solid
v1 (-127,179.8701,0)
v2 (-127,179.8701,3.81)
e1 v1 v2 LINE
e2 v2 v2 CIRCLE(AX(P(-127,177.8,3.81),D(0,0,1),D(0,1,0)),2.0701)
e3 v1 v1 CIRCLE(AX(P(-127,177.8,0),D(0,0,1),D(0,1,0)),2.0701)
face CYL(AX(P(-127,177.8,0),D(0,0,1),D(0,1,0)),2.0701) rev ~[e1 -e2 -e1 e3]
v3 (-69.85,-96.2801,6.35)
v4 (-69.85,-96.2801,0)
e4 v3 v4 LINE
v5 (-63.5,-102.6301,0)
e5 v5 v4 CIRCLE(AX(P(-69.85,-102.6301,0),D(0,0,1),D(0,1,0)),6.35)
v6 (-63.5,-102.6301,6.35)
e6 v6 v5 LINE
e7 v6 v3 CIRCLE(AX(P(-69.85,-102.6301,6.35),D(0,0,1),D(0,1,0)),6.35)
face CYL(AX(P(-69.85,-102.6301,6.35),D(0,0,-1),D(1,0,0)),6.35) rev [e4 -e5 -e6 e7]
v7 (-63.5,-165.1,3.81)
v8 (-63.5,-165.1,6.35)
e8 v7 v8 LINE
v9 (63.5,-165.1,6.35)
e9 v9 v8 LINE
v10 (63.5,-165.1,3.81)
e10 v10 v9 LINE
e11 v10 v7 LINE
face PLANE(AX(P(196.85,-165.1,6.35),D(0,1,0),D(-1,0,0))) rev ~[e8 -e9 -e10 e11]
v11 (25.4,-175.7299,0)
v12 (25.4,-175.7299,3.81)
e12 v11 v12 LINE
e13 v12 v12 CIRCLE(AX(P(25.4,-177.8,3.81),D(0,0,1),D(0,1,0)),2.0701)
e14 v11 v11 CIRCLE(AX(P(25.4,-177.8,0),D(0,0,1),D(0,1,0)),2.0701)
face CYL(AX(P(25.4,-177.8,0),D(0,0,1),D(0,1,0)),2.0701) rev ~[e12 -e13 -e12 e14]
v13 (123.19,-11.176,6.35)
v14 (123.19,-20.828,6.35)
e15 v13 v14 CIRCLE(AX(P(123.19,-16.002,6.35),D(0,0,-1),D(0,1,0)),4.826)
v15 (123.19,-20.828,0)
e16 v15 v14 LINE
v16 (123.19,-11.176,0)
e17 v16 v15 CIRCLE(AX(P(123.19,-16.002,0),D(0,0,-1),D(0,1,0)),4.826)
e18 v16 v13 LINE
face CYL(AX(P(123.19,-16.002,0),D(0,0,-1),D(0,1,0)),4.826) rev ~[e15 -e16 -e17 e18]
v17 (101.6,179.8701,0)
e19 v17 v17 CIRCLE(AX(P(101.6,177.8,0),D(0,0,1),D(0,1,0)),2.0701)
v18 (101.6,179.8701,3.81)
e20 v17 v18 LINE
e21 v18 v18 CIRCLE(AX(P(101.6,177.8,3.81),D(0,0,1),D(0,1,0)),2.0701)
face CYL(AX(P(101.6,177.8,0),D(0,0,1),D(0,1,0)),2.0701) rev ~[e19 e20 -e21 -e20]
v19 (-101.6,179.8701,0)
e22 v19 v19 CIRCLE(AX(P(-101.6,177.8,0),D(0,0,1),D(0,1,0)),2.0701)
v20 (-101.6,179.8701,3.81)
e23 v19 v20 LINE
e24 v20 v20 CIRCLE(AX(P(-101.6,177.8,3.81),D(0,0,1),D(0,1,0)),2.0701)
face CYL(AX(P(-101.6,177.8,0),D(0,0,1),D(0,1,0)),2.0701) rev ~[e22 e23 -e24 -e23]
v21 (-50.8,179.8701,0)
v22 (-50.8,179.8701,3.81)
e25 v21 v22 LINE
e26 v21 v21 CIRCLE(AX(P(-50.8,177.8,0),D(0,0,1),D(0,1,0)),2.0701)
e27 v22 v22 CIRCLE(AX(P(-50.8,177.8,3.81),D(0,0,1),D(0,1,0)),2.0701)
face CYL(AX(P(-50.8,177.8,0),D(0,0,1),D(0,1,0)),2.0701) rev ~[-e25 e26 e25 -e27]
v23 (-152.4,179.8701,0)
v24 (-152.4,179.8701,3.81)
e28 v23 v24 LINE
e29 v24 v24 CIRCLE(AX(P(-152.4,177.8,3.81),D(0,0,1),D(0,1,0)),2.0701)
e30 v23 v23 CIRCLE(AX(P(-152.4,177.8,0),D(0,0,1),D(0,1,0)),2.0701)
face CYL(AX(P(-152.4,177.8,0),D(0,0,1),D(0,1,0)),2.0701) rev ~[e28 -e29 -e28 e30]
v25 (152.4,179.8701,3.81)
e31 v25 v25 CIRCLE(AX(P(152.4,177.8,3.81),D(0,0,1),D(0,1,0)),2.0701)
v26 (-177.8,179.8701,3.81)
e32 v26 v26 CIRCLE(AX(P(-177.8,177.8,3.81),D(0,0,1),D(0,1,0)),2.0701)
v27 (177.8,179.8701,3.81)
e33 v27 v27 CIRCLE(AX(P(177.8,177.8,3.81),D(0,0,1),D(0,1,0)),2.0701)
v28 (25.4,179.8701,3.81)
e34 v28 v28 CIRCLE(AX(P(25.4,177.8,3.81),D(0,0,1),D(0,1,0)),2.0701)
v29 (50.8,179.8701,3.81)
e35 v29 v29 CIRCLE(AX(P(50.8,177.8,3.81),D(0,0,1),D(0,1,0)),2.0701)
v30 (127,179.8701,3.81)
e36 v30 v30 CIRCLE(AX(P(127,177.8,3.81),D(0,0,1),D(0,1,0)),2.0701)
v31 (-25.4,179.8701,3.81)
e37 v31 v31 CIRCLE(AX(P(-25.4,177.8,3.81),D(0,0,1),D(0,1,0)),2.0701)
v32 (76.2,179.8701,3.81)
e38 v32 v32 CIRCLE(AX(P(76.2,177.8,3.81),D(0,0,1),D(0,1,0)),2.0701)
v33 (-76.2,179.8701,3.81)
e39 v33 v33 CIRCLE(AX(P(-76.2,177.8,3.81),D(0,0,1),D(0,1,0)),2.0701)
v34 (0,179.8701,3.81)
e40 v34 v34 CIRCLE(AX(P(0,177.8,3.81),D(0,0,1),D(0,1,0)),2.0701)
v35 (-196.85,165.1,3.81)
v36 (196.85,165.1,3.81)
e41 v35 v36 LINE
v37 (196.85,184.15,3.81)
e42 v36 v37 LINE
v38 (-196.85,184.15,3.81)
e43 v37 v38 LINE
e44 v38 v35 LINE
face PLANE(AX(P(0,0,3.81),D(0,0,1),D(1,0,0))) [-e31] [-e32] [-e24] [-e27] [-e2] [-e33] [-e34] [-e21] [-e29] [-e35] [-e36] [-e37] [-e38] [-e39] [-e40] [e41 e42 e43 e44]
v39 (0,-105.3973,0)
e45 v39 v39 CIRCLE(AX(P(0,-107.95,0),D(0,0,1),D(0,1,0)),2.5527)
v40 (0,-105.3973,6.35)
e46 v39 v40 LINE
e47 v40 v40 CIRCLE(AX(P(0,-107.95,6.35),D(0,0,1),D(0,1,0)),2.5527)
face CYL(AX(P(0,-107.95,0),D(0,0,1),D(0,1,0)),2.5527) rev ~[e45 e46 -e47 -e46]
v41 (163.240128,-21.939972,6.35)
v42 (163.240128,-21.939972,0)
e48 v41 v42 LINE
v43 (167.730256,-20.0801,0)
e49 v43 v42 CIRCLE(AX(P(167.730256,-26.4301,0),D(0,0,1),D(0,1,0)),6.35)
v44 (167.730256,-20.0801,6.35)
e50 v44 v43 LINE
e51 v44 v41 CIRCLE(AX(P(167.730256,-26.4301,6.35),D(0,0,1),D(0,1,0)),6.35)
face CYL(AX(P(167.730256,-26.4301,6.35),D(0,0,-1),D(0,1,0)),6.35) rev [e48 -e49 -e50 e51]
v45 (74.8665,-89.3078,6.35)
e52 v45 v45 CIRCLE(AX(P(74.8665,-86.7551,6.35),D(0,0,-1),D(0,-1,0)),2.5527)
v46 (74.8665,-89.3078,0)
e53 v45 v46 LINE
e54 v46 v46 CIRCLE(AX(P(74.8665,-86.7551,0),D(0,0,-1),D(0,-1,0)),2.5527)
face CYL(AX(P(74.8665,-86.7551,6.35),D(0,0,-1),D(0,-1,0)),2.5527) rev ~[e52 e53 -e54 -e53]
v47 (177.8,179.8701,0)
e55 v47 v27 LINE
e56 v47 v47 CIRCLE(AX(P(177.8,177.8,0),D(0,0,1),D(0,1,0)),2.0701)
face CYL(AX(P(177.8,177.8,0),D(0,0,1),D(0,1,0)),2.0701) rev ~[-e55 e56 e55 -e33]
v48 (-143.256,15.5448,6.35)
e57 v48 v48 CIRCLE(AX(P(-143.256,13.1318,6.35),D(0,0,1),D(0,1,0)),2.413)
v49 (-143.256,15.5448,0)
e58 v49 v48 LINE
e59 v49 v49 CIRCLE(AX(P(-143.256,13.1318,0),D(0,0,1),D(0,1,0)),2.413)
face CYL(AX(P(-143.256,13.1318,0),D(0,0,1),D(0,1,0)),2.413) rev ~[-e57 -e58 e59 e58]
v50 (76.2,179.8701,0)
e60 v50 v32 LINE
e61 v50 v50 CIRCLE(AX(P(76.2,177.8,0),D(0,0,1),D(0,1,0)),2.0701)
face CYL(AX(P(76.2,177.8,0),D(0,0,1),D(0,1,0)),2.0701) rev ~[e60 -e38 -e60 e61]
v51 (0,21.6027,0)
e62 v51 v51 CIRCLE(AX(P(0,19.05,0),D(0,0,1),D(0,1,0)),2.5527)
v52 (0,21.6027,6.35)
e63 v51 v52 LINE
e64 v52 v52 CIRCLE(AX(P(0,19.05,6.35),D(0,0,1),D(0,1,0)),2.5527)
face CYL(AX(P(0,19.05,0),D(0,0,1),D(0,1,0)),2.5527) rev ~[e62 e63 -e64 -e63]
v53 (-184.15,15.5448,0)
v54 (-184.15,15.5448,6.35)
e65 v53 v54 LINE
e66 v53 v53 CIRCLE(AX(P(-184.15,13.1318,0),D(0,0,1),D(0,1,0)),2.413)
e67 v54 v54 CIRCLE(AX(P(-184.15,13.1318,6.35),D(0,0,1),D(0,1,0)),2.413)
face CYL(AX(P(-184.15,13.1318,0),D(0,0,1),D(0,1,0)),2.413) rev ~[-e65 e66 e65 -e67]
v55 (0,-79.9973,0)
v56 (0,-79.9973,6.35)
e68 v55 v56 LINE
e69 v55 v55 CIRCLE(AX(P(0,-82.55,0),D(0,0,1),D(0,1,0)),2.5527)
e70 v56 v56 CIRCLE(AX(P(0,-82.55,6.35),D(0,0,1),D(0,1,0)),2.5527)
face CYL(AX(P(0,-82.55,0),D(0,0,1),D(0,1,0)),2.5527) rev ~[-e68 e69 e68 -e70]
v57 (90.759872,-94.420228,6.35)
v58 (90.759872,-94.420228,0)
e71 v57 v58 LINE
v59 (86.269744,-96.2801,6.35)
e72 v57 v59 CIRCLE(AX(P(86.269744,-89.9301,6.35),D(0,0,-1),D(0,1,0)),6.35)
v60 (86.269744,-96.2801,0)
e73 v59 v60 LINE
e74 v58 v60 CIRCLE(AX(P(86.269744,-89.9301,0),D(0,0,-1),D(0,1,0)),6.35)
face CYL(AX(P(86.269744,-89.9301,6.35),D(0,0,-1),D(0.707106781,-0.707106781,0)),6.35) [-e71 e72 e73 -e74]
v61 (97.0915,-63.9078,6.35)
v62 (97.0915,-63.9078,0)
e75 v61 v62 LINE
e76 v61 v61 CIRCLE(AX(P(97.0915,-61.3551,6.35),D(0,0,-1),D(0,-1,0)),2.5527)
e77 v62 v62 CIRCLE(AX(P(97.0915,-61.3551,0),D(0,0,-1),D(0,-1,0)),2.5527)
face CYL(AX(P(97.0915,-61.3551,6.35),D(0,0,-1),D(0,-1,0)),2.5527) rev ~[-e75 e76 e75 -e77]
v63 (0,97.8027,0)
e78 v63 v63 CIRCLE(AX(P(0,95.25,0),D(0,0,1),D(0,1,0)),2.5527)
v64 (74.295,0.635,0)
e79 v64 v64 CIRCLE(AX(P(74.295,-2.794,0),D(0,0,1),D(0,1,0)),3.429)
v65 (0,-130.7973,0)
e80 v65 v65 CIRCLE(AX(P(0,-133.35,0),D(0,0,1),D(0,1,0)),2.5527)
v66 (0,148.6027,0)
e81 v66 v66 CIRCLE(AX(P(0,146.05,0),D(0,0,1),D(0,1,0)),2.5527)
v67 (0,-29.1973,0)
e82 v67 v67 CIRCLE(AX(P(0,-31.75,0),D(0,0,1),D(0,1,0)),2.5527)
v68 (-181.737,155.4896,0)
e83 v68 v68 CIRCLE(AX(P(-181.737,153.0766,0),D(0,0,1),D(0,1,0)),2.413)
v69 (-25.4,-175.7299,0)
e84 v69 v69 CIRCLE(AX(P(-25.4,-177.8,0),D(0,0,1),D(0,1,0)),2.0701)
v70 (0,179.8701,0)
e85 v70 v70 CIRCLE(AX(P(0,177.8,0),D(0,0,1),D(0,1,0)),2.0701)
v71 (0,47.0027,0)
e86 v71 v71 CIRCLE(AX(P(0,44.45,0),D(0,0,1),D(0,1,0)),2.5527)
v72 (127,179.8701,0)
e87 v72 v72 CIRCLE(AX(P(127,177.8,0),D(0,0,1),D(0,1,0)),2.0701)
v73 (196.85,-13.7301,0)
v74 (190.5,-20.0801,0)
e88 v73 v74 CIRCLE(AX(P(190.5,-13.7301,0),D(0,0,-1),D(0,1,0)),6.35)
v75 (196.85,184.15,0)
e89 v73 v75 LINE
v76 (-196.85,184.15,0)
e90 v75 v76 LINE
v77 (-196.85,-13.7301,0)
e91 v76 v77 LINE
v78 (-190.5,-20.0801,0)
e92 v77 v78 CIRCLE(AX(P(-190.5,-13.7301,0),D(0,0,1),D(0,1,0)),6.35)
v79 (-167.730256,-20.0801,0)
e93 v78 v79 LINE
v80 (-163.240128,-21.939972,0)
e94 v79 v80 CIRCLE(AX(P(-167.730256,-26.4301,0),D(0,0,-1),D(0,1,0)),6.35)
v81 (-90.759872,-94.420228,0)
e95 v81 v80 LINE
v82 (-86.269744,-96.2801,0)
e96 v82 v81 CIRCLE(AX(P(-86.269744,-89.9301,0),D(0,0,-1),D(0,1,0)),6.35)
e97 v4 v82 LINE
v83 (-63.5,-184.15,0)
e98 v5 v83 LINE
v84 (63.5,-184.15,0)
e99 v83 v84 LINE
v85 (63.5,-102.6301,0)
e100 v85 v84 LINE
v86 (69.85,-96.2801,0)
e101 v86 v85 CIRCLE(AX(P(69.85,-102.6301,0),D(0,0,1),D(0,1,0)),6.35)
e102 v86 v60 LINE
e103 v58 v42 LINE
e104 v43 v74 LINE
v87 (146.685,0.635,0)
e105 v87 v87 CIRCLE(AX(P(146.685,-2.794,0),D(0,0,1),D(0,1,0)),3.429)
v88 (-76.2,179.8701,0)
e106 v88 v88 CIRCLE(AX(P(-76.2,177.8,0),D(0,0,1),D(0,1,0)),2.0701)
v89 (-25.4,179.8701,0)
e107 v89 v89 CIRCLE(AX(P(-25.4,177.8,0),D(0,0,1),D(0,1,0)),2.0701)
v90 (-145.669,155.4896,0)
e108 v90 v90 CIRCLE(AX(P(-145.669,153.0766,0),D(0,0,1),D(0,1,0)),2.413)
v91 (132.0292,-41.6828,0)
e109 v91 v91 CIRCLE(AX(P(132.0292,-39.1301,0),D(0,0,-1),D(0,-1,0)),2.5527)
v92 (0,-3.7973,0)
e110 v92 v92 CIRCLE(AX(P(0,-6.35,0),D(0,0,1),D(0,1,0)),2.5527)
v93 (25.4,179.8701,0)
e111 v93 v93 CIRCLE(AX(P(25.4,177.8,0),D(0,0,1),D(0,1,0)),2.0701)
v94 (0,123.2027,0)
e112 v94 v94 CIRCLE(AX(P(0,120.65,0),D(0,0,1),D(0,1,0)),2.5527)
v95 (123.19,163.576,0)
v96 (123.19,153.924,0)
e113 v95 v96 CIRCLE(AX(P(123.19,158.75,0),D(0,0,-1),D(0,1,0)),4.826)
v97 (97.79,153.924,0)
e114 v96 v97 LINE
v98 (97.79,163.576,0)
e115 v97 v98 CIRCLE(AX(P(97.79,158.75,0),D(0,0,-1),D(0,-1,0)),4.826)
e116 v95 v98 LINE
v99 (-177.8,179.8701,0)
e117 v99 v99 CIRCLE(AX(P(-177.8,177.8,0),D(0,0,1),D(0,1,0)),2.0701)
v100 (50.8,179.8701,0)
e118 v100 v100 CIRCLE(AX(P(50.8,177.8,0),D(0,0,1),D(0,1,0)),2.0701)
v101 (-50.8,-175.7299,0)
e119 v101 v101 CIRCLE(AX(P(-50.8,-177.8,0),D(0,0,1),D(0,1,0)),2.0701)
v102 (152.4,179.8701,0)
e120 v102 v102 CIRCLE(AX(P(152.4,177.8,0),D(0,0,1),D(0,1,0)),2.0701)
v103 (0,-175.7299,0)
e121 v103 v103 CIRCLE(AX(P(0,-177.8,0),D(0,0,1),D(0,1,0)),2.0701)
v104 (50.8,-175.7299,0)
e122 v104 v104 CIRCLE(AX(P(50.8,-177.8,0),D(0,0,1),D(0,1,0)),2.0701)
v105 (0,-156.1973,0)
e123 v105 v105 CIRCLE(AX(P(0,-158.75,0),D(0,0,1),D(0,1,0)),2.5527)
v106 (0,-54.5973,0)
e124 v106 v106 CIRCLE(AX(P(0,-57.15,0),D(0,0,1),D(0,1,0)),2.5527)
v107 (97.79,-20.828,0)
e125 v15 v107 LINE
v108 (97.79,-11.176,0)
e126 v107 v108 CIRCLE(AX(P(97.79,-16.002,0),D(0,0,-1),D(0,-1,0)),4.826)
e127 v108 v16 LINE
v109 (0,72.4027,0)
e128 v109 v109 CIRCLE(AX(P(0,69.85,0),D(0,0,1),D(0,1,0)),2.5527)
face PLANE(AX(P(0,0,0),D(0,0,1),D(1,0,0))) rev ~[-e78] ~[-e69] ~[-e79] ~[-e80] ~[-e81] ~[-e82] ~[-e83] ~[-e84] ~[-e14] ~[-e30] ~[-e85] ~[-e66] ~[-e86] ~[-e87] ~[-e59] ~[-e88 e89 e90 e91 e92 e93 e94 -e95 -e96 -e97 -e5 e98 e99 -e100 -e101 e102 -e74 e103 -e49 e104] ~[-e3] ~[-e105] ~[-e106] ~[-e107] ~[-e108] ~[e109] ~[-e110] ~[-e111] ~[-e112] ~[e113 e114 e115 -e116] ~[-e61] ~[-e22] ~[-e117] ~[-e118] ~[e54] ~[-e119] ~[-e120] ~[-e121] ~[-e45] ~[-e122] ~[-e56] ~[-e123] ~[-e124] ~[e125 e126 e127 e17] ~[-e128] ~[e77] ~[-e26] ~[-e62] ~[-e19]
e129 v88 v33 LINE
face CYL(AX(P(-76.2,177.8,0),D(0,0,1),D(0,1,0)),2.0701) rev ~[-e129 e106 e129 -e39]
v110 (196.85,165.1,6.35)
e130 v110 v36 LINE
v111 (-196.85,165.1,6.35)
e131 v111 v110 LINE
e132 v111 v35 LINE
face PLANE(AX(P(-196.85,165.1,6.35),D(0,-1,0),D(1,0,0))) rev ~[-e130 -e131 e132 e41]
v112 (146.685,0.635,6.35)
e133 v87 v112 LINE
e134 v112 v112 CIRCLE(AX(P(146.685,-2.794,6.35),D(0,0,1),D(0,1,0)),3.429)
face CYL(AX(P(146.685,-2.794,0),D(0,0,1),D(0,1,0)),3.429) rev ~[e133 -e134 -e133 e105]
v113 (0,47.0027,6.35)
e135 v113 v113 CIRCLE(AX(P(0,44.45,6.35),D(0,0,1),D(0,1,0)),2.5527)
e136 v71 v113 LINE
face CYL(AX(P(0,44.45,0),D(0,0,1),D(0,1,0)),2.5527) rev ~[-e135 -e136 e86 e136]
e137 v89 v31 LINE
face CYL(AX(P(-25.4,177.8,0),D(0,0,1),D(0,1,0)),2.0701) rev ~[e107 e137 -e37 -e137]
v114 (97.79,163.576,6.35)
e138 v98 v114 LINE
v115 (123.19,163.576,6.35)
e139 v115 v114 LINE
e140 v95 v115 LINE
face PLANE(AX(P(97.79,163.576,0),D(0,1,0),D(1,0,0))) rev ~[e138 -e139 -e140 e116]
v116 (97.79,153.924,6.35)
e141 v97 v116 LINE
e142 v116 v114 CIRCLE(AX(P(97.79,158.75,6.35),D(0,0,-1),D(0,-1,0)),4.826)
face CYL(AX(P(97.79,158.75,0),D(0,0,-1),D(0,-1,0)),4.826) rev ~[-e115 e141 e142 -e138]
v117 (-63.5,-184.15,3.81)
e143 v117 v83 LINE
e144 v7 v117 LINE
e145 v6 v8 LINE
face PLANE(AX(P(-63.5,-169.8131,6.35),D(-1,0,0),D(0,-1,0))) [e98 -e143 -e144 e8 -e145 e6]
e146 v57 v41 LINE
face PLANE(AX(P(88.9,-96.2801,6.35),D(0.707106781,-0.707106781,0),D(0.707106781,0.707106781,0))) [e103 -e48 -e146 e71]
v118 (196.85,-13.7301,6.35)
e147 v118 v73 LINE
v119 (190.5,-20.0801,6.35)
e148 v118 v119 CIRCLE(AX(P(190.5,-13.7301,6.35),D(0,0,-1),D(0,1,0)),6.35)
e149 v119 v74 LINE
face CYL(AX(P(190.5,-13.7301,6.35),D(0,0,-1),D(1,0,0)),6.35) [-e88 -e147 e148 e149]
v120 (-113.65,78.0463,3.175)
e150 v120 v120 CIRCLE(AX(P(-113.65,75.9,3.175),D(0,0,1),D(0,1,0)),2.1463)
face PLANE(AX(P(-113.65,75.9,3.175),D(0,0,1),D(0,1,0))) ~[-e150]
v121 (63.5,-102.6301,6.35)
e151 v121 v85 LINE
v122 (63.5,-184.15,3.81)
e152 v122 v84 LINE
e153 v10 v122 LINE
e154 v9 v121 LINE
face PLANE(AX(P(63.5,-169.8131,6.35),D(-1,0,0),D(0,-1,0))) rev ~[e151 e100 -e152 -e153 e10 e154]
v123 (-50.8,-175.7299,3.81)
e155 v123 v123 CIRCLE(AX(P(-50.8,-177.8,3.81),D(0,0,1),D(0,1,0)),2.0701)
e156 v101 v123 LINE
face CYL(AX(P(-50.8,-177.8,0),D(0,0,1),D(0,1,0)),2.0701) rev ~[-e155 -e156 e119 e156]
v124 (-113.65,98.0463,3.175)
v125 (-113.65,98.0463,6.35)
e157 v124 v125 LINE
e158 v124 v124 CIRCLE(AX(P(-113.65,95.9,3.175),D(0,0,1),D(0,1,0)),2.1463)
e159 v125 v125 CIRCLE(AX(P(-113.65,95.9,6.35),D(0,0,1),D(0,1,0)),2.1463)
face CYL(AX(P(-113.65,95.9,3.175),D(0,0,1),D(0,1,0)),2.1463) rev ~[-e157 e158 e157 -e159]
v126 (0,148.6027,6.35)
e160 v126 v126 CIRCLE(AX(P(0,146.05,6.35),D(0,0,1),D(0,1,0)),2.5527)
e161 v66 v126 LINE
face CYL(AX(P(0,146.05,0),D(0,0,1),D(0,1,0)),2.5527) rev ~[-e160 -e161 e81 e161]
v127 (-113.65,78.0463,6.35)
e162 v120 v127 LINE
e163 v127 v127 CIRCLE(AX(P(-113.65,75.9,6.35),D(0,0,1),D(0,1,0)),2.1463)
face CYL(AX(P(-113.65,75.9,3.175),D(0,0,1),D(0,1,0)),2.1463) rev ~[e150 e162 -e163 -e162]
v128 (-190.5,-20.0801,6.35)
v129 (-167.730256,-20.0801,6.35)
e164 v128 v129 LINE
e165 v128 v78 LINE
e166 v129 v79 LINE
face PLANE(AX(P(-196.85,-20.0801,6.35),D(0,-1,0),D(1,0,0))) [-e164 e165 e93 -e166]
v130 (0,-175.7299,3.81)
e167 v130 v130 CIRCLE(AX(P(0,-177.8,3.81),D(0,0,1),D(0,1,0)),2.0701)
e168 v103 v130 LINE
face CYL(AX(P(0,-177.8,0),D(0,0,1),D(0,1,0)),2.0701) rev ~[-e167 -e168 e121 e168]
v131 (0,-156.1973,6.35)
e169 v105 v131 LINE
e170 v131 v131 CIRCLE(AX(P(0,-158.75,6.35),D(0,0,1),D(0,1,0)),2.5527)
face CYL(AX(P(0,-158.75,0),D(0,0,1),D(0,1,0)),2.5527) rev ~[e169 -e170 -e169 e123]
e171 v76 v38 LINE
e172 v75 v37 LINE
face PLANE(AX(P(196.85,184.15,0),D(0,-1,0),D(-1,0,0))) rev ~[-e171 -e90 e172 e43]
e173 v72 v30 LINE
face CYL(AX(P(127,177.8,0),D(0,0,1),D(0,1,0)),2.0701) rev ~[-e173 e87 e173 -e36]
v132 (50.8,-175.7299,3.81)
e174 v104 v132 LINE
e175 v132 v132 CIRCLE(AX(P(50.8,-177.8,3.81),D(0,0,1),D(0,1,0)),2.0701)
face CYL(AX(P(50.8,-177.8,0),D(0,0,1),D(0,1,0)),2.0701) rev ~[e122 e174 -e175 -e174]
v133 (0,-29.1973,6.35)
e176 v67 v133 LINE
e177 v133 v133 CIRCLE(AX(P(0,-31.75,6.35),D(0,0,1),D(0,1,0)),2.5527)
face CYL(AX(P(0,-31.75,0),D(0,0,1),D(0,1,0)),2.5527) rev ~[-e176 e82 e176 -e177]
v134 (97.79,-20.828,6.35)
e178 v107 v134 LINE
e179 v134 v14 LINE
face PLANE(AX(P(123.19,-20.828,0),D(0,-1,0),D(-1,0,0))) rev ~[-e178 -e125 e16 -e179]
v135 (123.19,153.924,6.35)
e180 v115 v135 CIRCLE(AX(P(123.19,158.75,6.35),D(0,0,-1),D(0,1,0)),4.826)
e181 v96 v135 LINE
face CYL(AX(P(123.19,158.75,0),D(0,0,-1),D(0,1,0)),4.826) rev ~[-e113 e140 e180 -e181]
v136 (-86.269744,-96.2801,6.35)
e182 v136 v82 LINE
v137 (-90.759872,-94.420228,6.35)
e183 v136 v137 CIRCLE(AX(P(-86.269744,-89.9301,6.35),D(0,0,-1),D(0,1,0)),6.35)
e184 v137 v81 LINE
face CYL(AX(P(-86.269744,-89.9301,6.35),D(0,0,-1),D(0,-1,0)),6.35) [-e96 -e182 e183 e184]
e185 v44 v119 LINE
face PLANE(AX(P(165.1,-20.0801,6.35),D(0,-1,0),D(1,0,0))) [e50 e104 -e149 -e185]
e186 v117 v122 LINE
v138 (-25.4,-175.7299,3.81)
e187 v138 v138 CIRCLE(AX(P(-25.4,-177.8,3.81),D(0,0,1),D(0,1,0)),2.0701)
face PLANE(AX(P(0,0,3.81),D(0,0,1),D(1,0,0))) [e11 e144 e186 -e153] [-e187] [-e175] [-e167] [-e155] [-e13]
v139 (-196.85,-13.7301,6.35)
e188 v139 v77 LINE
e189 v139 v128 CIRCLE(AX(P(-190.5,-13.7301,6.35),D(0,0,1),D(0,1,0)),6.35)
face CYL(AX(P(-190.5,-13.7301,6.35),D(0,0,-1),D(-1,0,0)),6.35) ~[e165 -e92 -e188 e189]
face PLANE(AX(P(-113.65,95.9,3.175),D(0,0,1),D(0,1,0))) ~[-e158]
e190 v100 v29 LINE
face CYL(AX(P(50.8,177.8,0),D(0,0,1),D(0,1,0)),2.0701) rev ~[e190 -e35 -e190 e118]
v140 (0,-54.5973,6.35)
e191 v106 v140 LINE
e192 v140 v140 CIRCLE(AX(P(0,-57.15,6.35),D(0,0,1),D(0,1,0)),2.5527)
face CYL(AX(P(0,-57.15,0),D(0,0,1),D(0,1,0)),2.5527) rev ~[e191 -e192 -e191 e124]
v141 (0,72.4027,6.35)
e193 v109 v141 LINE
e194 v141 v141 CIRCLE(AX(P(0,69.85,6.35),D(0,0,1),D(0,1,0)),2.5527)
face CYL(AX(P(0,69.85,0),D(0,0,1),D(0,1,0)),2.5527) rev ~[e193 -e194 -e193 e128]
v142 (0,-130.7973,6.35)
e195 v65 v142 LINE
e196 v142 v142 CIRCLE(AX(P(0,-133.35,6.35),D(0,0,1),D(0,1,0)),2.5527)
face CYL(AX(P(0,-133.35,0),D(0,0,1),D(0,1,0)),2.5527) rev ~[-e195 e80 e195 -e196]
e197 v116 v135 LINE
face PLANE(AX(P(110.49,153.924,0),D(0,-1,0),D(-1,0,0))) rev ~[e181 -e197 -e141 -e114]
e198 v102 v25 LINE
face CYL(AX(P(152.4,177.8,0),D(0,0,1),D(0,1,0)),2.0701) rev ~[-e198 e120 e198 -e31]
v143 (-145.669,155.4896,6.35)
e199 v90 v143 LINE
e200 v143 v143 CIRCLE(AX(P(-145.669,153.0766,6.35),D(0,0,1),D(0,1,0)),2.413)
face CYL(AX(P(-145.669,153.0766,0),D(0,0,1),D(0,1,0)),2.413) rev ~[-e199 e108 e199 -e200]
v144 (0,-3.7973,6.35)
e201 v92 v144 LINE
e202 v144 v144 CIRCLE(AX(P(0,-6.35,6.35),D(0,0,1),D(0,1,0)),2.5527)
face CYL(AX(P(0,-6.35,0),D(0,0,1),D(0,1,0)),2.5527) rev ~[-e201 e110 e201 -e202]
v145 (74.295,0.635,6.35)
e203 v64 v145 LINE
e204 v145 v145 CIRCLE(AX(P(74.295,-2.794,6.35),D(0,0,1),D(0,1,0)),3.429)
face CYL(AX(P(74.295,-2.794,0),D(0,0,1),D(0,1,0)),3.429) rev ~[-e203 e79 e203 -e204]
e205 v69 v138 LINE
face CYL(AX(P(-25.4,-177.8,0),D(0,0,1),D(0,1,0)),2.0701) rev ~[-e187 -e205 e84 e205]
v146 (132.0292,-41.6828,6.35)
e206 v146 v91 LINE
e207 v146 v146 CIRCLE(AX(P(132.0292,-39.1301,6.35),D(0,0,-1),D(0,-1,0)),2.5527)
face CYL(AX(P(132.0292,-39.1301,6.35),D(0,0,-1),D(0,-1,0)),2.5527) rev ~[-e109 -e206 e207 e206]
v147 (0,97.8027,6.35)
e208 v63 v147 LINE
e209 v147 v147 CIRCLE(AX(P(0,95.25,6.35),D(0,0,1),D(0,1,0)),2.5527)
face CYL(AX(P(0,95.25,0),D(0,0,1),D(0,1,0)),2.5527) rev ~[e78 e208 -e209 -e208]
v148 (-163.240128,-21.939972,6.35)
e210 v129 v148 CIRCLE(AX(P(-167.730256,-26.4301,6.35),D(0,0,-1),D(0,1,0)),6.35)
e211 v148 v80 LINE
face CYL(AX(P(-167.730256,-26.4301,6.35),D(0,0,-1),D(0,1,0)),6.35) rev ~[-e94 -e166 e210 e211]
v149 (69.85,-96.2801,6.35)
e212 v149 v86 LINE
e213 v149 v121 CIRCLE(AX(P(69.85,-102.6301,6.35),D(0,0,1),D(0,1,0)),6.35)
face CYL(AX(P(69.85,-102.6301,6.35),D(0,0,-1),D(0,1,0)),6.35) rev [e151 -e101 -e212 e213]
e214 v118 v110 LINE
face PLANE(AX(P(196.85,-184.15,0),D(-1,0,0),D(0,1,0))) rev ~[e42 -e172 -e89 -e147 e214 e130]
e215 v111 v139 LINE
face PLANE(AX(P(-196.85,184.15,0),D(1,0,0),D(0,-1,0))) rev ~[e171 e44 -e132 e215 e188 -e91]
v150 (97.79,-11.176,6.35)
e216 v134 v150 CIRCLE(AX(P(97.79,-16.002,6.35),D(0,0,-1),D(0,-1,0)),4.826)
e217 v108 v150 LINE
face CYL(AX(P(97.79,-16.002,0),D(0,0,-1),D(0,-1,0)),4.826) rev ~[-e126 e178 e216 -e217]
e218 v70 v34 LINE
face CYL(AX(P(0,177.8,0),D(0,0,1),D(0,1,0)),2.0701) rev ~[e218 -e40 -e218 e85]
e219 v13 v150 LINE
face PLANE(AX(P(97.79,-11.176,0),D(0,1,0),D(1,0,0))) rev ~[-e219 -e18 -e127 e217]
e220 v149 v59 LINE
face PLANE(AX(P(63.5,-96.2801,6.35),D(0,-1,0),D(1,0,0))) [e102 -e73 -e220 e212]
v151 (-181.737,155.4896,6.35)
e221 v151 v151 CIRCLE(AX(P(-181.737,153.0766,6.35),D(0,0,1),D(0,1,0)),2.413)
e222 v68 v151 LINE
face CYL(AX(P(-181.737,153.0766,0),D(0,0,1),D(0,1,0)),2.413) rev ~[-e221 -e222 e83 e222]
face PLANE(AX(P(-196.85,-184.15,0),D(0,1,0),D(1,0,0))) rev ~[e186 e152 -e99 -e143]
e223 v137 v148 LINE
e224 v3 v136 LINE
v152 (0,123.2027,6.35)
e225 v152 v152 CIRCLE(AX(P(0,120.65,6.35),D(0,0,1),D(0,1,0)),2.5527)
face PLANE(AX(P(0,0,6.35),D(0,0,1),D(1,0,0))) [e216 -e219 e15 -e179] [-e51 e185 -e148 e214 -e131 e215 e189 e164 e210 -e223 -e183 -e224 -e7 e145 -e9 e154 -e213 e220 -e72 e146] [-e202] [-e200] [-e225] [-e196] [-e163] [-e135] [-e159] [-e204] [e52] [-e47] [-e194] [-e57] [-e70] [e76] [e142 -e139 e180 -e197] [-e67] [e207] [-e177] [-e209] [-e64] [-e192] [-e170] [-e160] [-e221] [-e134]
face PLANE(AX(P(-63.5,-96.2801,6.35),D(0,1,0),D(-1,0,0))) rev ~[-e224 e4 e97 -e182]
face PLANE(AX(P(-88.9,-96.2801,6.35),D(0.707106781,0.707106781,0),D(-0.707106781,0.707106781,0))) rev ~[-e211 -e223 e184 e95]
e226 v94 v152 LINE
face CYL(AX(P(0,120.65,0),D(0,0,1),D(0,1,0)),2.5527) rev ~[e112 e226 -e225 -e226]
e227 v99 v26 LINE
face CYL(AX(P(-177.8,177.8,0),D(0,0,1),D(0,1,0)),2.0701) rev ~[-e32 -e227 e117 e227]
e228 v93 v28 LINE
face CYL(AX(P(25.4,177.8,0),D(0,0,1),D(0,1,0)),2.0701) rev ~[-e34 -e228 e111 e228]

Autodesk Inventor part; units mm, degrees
ref_plane "YZ Plane" through (0, 0, 0) normal (1, 0, 0) x (0, 1, 0)
ref_plane "XZ Plane" through (0, 0, 0) normal (0, 1, 0) x (-1, 0, 0)
sketch "Sketch1" plane through (0, 0, 0) normal (0, 0, 1) x (1, 0, 0)
  line L0 (-196.85, -184.15) -> (196.85, -184.15)
  line L1 (196.85, -184.15) -> (196.85, 184.15)
  line L2 (196.85, 184.15) -> (-196.85, 184.15)
  line L3 (-196.85, 184.15) -> (-196.85, -184.15)
  line L4 (-196.85, -184.15) -> (196.85, 184.15) construction
  line L5 (196.85, -184.15) -> (-196.85, 184.15) construction
  point P0 (0, 0)
  dimension "d0" = 393.7
  dimension "d1" = 368.3
extrude "Extrusion1" add sketch "Sketch1" along normal blind 6.35
sketch "Sketch2" plane through (0, 0, 6.35) normal (0, 0, 1) x (1, 0, 0)
  line L0 (-196.85, 184.15) -> (-196.85, -184.15) projected
  line L1 (-196.85, 165.1) -> (196.85, 165.1)
  line L2 (196.85, 165.1) -> (196.85, 184.15)
  line L3 (196.85, 184.15) -> (-196.85, 184.15)
  line L4 (-196.85, 184.15) -> (-196.85, 165.1)
  line L5 (-196.85, -184.15) -> (196.85, -184.15)
  line L6 (196.85, -184.15) -> (196.85, -165.1)
  line L7 (196.85, -165.1) -> (-196.85, -165.1)
  line L8 (-196.85, -165.1) -> (-196.85, -184.15)
  line L9 (196.85, -184.15) -> (196.85, 184.15) projected
  point P0 (0, 0)
  dimension "d4" = 330.2
  dimension "d5" = 19.05
extrude "Extrusion2" cut sketch "Sketch2" against normal blind 2.54 contours L3 L2 L1 L0 | L7 L6 L5 L0
sketch "Sketch3" plane through (0, 0, 6.35) normal (0, 0, 1) x (1, 0, 0)
  line L0 (196.85, -184.15) -> (196.85, 165.1) projected
  line L1 (-196.85, 165.1) -> (-196.85, -165.1) projected
  line L2 (-63.5, -96.2801) -> (-63.5, -169.8131)
  line L3 (-196.85, -138.0631) -> (-196.85, -96.2801)
  line L4 (-169.0712, 11.938) -> (-156.3712, 11.938)
  line L5 (196.85, -184.15) -> (-196.85, -184.15) projected
  line L6 (-88.9, -96.2801) -> (-165.1, -20.0801)
  line L7 (-196.85, 184.15) -> (-196.85, -184.15) projected
  line L8 (-63.5, -96.2801) -> (-196.85, -96.2801)
  line L9 (-196.85, -96.2801) -> (-196.85, -7.3801)
  line L10 (-63.5, -169.8131) -> (-63.5, -184.15)
  line L11 (-63.5, -169.8131) -> (-63.5, -169.8131)
  line L12 (176.1744, -166.6059) -> (83.0336, -166.6059)
  line L13 (-176.1744, -166.6381) -> (-83.0336, -166.6381)
  line L14 (-176.1744, -102.6301) -> (-83.0336, -102.6301)
  line L15 (176.1744, -102.5979) -> (83.0336, -102.5979)
  line L16 (0, -214.5967) -> (0, 32.3311)
  line L17 (196.85, 165.1) -> (196.85, -165.1)
  line L18 (63.5, -96.2801) -> (63.5, -169.8131)
  line L19 (88.9, -96.2801) -> (165.1, -20.0801)
  line L20 (63.5, -96.2801) -> (196.85, -96.2801)
  line L21 (63.5, -169.8131) -> (63.5, -184.15)
  line L22 (63.5, -169.8131) -> (63.5, -169.8131)
  line L23 (196.85, -165.1) -> (196.85, -184.15)
  line L24 (196.85, -184.15) -> (196.85, 184.15) projected
  line L25 (196.85, -184.15) -> (63.5, -184.15)
  line L26 (-63.5, -184.15) -> (-196.85, -184.15)
  line L27 (-196.85, -184.15) -> (196.85, -184.15) projected
  line L28 (-196.85, -184.15) -> (-196.85, -138.0631)
  line L29 (-196.85, -20.0801) -> (196.85, -20.0801)
  line L30 (-196.85, -96.2801) -> (-196.85, -20.0801)
  line L31 (-196.85, -20.0801) -> (-165.1, -20.0801)
  line L32 (-165.1, -20.0801) -> (-165.1, -96.2801)
  line L33 (-165.1, -96.2801) -> (-196.85, -96.2801)
  line L34 (-196.85, -96.2801) -> (-196.85, -20.0801)
  point P0 (0, 0)
  point P1 (101.6, -190.5)
  dimension "d45" = 45
  dimension "d47" = 6.35
  dimension "d48" = 3.175
  dimension "d49" = 25.4
  dimension "d50" = 45
  dimension "d51" = 76.2
extrude "Extrusion3" cut sketch "Sketch3" against normal through all contours L5 L21 L18 L20 L0 | L20 L19 L29 L0 | L5 L7 L1 L8 L2 L10 | L32 L8 L1 L29 | L6 L8 L32
fillet "Fillet1" radius 6.35 8 edges at (-88.9, -96.2801, 3.175) (-63.5, -96.2801, 3.175) (-165.1, -20.0801, 3.175) (-196.85, -20.0801, 3.175) (63.5, -96.2801, 3.175) (88.9, -96.2801, 3.175) (165.1, -20.0801, 3.175) (196.85, -20.0801, 3.175)
sketch "Sketch5" plane through (0, 0, 0) normal (0, 0, -1) x (-1, 0, 0)
  line L0 (63.5, -184.15) -> (63.5, -102.6301) projected
  line L1 (-196.85, 184.15) -> (196.85, 184.15) projected
  line L2 (196.85, 184.15) -> (196.85, -13.7301) projected
  point P0 (0, 0)
  point P1 (50.8, -177.8)
  point P2 (63.5, -163.4631)
  point P3 (177.8, 177.8)
  point P4 (152.4, 177.8)
  point P5 (127, 177.8)
  point P6 (101.6, 177.8)
  point P7 (76.2, 177.8)
  point P8 (50.8, 177.8)
  point P9 (25.4, 177.8)
  point P10 (0, 177.8)
  point P11 (-25.4, 177.8)
  point P12 (-50.8, 177.8)
  point P13 (-76.2, 177.8)
  point P14 (-101.6, 177.8)
  point P15 (-127, 177.8)
  point P16 (-152.4, 177.8)
  point P17 (-177.8, 177.8)
  point P18 (25.4, -177.8)
  point P19 (0, -177.8)
  point P20 (-25.4, -177.8)
  point P21 (-50.8, -177.8)
  dimension "d100" = 12.7
  dimension "d101" = 6.35
  dimension "d102" = 19.05
  dimension "d105" = 25.4
  dimension "d112" = 25.4
hole "Hole2" at (-177.8, 177.8, 0) at (-152.4, 177.8, 0) at (-127, 177.8, 0) at (-101.6, 177.8, 0) at (-76.2, 177.8, 0) at (-50.8, 177.8, 0) at (-25.4, 177.8, 0) at (0, 177.8, 0) at (25.4, 177.8, 0) at (50.8, 177.8, 0) at (76.2, 177.8, 0) at (101.6, 177.8, 0) at (127, 177.8, 0) at (152.4, 177.8, 0) at (177.8, 177.8, 0) at (-50.8, -177.8, 0) at (-25.4, -177.8, 0) at (0, -177.8, 0) at (25.4, -177.8, 0) at (50.8, -177.8, 0) direction (0, 0, 1) diameter 4.1402 end through all
sketch "Sketch6" plane through (0, 0, 0) normal (0, 0, -1) x (-1, 0, 0)
  circle A0 centre (145.669, 153.0766) radius 2.4116 projected
  circle A1 centre (181.737, 153.0766) radius 2.4116 projected
  circle A2 centre (143.256, 13.1318) radius 2.4116 projected
  circle A3 centre (184.15, 13.1318) radius 2.4116 projected
  point P0 (0, 0)
hole "Hole3" at (-143.256, 13.1318, 0) at (-184.15, 13.1318, 0) at (-145.669, 153.0766, 0) at (-181.737, 153.0766, 0) direction (0, 0, 1) diameter 4.826 end through all
sketch "Sketch7" plane through (0, 0, 0) normal (0, 0, -1) x (-1, 0, 0)
  circle A0 centre (0, 184.15) radius 2.0701 projected
  line L0 (-9.6012, -190.5) -> (9.6012, -190.5) projected
  line L1 (9.6012, 190.5) -> (9.6012, -190.5) projected
  line L2 (9.6012, 190.5) -> (-9.6012, 190.5) projected
  line L3 (-9.6012, -190.5) -> (-9.6012, 190.5) projected
  circle A1 centre (0, 171.45) radius 2.0701 projected
  circle A2 centre (0, 146.05) radius 2.0701 projected
  circle A3 centre (0, 120.65) radius 2.0701 projected
  circle A4 centre (0, 95.25) radius 2.0701 projected
  circle A5 centre (0, 69.85) radius 2.0701 projected
  circle A6 centre (0, 44.45) radius 2.0701 projected
  circle A7 centre (0, 19.05) radius 2.0701 projected
  circle A8 centre (0, -6.35) radius 2.0701 projected
  circle A9 centre (0, -31.75) radius 2.0701 projected
  circle A10 centre (0, -57.15) radius 2.0701 projected
  circle A11 centre (0, -82.55) radius 2.0701 projected
  circle A12 centre (0, -107.95) radius 2.0701 projected
  circle A13 centre (0, -133.35) radius 2.0701 projected
  circle A14 centre (0, -158.75) radius 2.0701 projected
  circle A15 centre (0, -184.15) radius 2.0701 projected
  line L4 (-196.85, 165.1) -> (196.85, 165.1) projected
  line L5 (-36.3783, -2.794) -> (-171.9439, -2.794)
  line L6 (-123.19, -16.002) -> (-97.79, -16.002) construction
  line L7 (-123.19, -20.828) -> (-97.79, -20.828)
  line L8 (-97.79, -11.176) -> (-123.19, -11.176)
  arc A16 (-123.19, -11.176) -> (-123.19, -20.828) centre (-123.19, -16.002) ccw
  arc A17 (-97.79, -20.828) -> (-97.79, -11.176) centre (-97.79, -16.002) ccw
  line L9 (-123.19, 158.75) -> (-97.79, 158.75) construction
  line L10 (-123.19, 153.924) -> (-97.79, 153.924)
  line L11 (-97.79, 163.576) -> (-123.19, 163.576)
  arc A18 (-123.19, 163.576) -> (-123.19, 153.924) centre (-123.19, 158.75) ccw
  arc A19 (-97.79, 153.924) -> (-97.79, 163.576) centre (-97.79, 158.75) ccw
  line L12 (-110.49, 207.2769) -> (-110.49, -6.4547)
  line L13 (-196.85, -13.7301) -> (-196.85, 165.1) projected
  point P0 (0, 0)
  point P1 (-74.295, -2.794)
  point P2 (-146.685, -2.794)
  point P3 (-110.49, -16.002)
  point P4 (-110.49, 158.75)
  dimension "d118" = 72.39
  dimension "d119" = 13.208
  dimension "d120" = 4.826
  dimension "d121" = 25.4
  dimension "d122" = 23.495
  dimension "d123" = 4.826
  dimension "d124" = 25.4
  dimension "d127" = 6.35
  dimension "d128" = 86.36
  dimension "d129" = 165.1
extrude "Extrusion4" cut sketch "Sketch7" against normal through all contours L11 A19 L10 L12 | L12 L10 A18 L11 | A16 L8 A17 L7
hole "Hole4" at (74.295, -2.794, 0) at (146.685, -2.794, 0) direction (0, 0, 1) diameter 6.858 end through all
hole "Hole6" at (0, 146.05, 0) at (0, 120.65, 0) at (0, 95.25, 0) at (0, 69.85, 0) at (0, 44.45, 0) at (0, 19.05, 0) at (0, -6.35, 0) at (0, -31.75, 0) at (0, -57.15, 0) at (0, -82.55, 0) at (0, -107.95, 0) at (0, -133.35, 0) at (0, -158.75, 0) direction (0, 0, 1) diameter 5.1054 end through all clearance for "Flat Head Machine Screw (82)" size "#10" standard "Ansi Unified Screw Threads"
ref_plane "Work Plane1" through (0, 0, 3.175) normal (0, 0, -1) x (-1, 0, 0)
sketch "Sketch8" plane through (0, 0, 3.175) normal (0, 0, -1) x (-1, 0, 0)
  circle A0 centre (0, -133.35) radius 2.5527 projected
  circle A1 centre (0, -82.55) radius 2.5527 projected
  circle A2 centre (0, -31.75) radius 2.5527 projected
  circle A3 centre (0, 19.05) radius 2.5527 projected
  circle A4 centre (0, 69.85) radius 2.5527 projected
  circle A5 centre (0, 120.65) radius 2.5527 projected
  circle A6 centre (0, 146.05) radius 2.5527 projected
  circle A7 centre (0, 95.25) radius 2.5527 projected
  circle A8 centre (0, 44.45) radius 2.5527 projected
  circle A9 centre (0, -6.35) radius 2.5527 projected
  circle A10 centre (0, -57.15) radius 2.5527 projected
  circle A11 centre (0, -107.95) radius 2.5527 projected
  circle A12 centre (0, -158.75) radius 2.5527 projected
  circle A13 centre (145.669, 153.0766) radius 2.413 projected
  circle A14 centre (143.256, 13.1318) radius 2.413 projected
  circle A15 centre (184.15, 13.1318) radius 2.413 projected
  circle A16 centre (181.737, 153.0766) radius 2.413 projected
  circle A17 centre (-25.4, -177.8) radius 2.0701 projected
  circle A18 centre (25.4, -177.8) radius 2.0701 projected
  circle A19 centre (-177.8, 177.8) radius 2.0701 projected
  circle A20 centre (-127, 177.8) radius 2.0701 projected
  circle A21 centre (-76.2, 177.8) radius 2.0701 projected
  circle A22 centre (-25.4, 177.8) radius 2.0701 projected
  circle A23 centre (25.4, 177.8) radius 2.0701 projected
  circle A24 centre (76.2, 177.8) radius 2.0701 projected
  circle A25 centre (127, 177.8) radius 2.0701 projected
  circle A26 centre (177.8, 177.8) radius 2.0701 projected
  circle A27 centre (152.4, 177.8) radius 2.0701 projected
  circle A28 centre (101.6, 177.8) radius 2.0701 projected
  circle A29 centre (50.8, 177.8) radius 2.0701 projected
  circle A30 centre (0, 177.8) radius 2.0701 projected
  circle A31 centre (-50.8, 177.8) radius 2.0701 projected
  circle A32 centre (-101.6, 177.8) radius 2.0701 projected
  circle A33 centre (-152.4, 177.8) radius 2.0701 projected
  circle A34 centre (50.8, -177.8) radius 2.0701 projected
  circle A35 centre (0, -177.8) radius 2.0701 projected
  circle A36 centre (-50.8, -177.8) radius 2.0701 projected
  arc A37 (-196.85, -13.7301) -> (-190.5, -20.0801) centre (-190.5, -13.7301) ccw projected
  line L0 (-190.5, -20.0801) -> (-167.7303, -20.0801) projected
  arc A38 (-163.2401, -21.9399) -> (-167.7303, -20.0801) centre (-167.7303, -26.4301) ccw projected
  line L1 (-163.2401, -21.9399) -> (-90.7599, -94.4202) projected
  arc A39 (-90.7599, -94.4202) -> (-86.2697, -96.2801) centre (-86.2697, -89.9301) ccw projected
  line L2 (-86.2697, -96.2801) -> (-69.85, -96.2801) projected
  arc A40 (-63.5, -102.6301) -> (-69.85, -96.2801) centre (-69.85, -102.6301) ccw projected
  line L3 (-63.5, -102.6301) -> (-63.5, -184.15) projected
  line L4 (63.5, -184.15) -> (-63.5, -184.15) projected
  line L5 (63.5, -184.15) -> (63.5, -102.6301) projected
  arc A41 (69.85, -96.2801) -> (63.5, -102.6301) centre (69.85, -102.6301) ccw projected
  line L6 (69.85, -96.2801) -> (86.2697, -96.2801) projected
  arc A42 (86.2697, -96.2801) -> (90.7599, -94.4202) centre (86.2697, -89.9301) ccw projected
  line L7 (90.7599, -94.4202) -> (163.2401, -21.9399) projected
  arc A43 (167.7303, -20.0801) -> (163.2401, -21.9399) centre (167.7303, -26.4301) ccw projected
  line L8 (167.7303, -20.0801) -> (190.5, -20.0801) projected
  arc A44 (190.5, -20.0801) -> (196.85, -13.7301) centre (190.5, -13.7301) ccw projected
  line L9 (196.85, 184.15) -> (196.85, -13.7301) projected
  line L10 (-196.85, 184.15) -> (196.85, 184.15) projected
  line L11 (-196.85, -13.7301) -> (-196.85, 184.15) projected
  circle A45 centre (0, -133.35) radius 2.5527 projected
  circle A46 centre (0, -82.55) radius 2.5527 projected
  circle A47 centre (0, -31.75) radius 2.5527 projected
  circle A48 centre (0, 19.05) radius 2.5527 projected
  circle A49 centre (0, 69.85) radius 2.5527 projected
  circle A50 centre (0, 120.65) radius 2.5527 projected
  circle A51 centre (0, 146.05) radius 2.5527 projected
  circle A52 centre (0, 95.25) radius 2.5527 projected
  circle A53 centre (0, 44.45) radius 2.5527 projected
  circle A54 centre (0, -6.35) radius 2.5527 projected
  circle A55 centre (0, -57.15) radius 2.5527 projected
  circle A56 centre (0, -107.95) radius 2.5527 projected
  circle A57 centre (0, -158.75) radius 2.5527 projected
  circle A58 centre (145.669, 153.0766) radius 2.413 projected
  circle A59 centre (143.256, 13.1318) radius 2.413 projected
  circle A60 centre (184.15, 13.1318) radius 2.413 projected
  circle A61 centre (181.737, 153.0766) radius 2.413 projected
  arc A62 (-196.85, -13.7301) -> (-190.5, -20.0801) centre (-190.5, -13.7301) ccw projected
  line L12 (-196.85, -13.7301) -> (-196.85, 165.1) projected
  line L13 (-196.85, 165.1) -> (196.85, 165.1) projected
  line L14 (196.85, 165.1) -> (196.85, -13.7301) projected
  arc A63 (190.5, -20.0801) -> (196.85, -13.7301) centre (190.5, -13.7301) ccw projected
  line L15 (190.5, -20.0801) -> (167.7303, -20.0801) projected
  arc A64 (167.7303, -20.0801) -> (163.2401, -21.9399) centre (167.7303, -26.4301) ccw projected
  line L16 (163.2401, -21.9399) -> (90.7599, -94.4202) projected
  arc A65 (86.2697, -96.2801) -> (90.7599, -94.4202) centre (86.2697, -89.9301) ccw projected
  line L17 (86.2697, -96.2801) -> (69.85, -96.2801) projected
  arc A66 (69.85, -96.2801) -> (63.5, -102.6301) centre (69.85, -102.6301) ccw projected
  line L18 (63.5, -102.6301) -> (63.5, -165.1) projected
  line L19 (63.5, -165.1) -> (-63.5, -165.1) projected
  line L20 (-63.5, -165.1) -> (-63.5, -102.6301) projected
  arc A67 (-63.5, -102.6301) -> (-69.85, -96.2801) centre (-69.85, -102.6301) ccw projected
  line L21 (-69.85, -96.2801) -> (-86.2697, -96.2801) projected
  arc A68 (-90.7599, -94.4202) -> (-86.2697, -96.2801) centre (-86.2697, -89.9301) ccw projected
  line L22 (-90.7599, -94.4202) -> (-163.2401, -21.9399) projected
  arc A69 (-163.2401, -21.9399) -> (-167.7303, -20.0801) centre (-167.7303, -26.4301) ccw projected
  line L23 (-167.7303, -20.0801) -> (-190.5, -20.0801) projected
  line L24 (89.15, 101.9) -> (89.15, 107.9) projected
  line L25 (89.15, 101.9) -> (85.65, 101.9) projected
  line L26 (85.65, 60.9) -> (85.65, 101.9) projected
  line L27 (120.65, 60.9) -> (85.65, 60.9) projected
  line L28 (120.65, 110.9) -> (120.65, 60.9) projected
  line L29 (85.65, 110.9) -> (120.65, 110.9) projected
  line L30 (85.65, 107.9) -> (85.65, 110.9) projected
  line L31 (89.15, 107.9) -> (85.65, 107.9) projected
  circle A70 centre (113.65, 95.9) radius 2.15 projected
  circle A71 centre (113.65, 75.9) radius 2.15 projected
  point P0 (0, 0)
sketch "Sketch9" plane through (0, 0, 6.35) normal (0, 0, 1) x (1, 0, 0)
  arc A0 (168.4147, -77.5476) -> (161.6583, -77.5476) centre (165.0365, -77.5476) ccw projected
  line L0 (168.4147, -77.5476) -> (168.4147, -80.7226) projected
  arc A1 (161.6583, -80.7226) -> (168.4147, -80.7226) centre (165.0365, -80.7226) ccw projected
  line L1 (161.6583, -80.7226) -> (161.6583, -77.5476) projected
  line L2 (182.8165, -99.4551) -> (55.8165, -99.4551) projected
  line L3 (182.8165, -29.6051) -> (182.8165, -99.4551) projected
  line L4 (128.7395, -29.6051) -> (182.8165, -29.6051) projected
  line L5 (55.8165, -80.6663) -> (128.7395, -29.6051) projected
  line L6 (55.8165, -99.4551) -> (55.8165, -80.6663) projected
  circle A2 centre (97.0915, -61.3551) radius 2.5527 projected
  circle A3 centre (74.8665, -86.7551) radius 2.5527 projected
  circle A4 centre (132.0292, -39.1301) radius 2.5527 projected
hole "Hole7" at (132.0292, -39.1301, 6.35) at (97.0915, -61.3551, 6.35) at (74.8665, -86.7551, 6.35) direction (0, 0, -1) diameter 5.1054 end through all clearance for "Flat Head Machine Screw (82)" size "#10" standard "Ansi Unified Screw Threads"
hole "Hole8" at (-113.65, 75.9, 3.175) at (-113.65, 95.9, 3.175) direction (0, 0, 1) diameter 4.2926 end through all
sketch "Sketch10" plane through (0, 0, 6.35) normal (0, 0, 1) x (1, 0, 0)
  circle A0 centre (-113.65, 75.9) radius 2.1463 projected
  circle A1 centre (-113.65, 95.9) radius 2.1463 projected
  circle A2 centre (97.0915, -61.3551) radius 2.5527 projected
  circle A3 centre (132.0292, -39.1301) radius 2.5527 projected
  circle A4 centre (74.8665, -86.7551) radius 2.5527 projected
  circle A5 centre (0, -133.35) radius 2.5527 projected
  circle A6 centre (0, -82.55) radius 2.5527 projected
  circle A7 centre (0, -31.75) radius 2.5527 projected
  circle A8 centre (0, 19.05) radius 2.5527 projected
  circle A9 centre (0, 69.85) radius 2.5527 projected
  circle A10 centre (0, 120.65) radius 2.5527 projected
  circle A11 centre (0, 146.05) radius 2.5527 projected
  circle A12 centre (0, 95.25) radius 2.5527 projected
  circle A13 centre (0, 44.45) radius 2.5527 projected
  circle A14 centre (0, -6.35) radius 2.5527 projected
  circle A15 centre (0, -57.15) radius 2.5527 projected
  circle A16 centre (0, -107.95) radius 2.5527 projected
  circle A17 centre (0, -158.75) radius 2.5527 projected
  circle A18 centre (74.295, -2.794) radius 3.429 projected
  circle A19 centre (146.685, -2.794) radius 3.429 projected
  arc A20 (97.79, -11.176) -> (97.79, -20.828) centre (97.79, -16.002) ccw projected
  line L0 (97.79, -11.176) -> (123.19, -11.176) projected
  arc A21 (123.19, -20.828) -> (123.19, -11.176) centre (123.19, -16.002) ccw projected
  line L1 (123.19, -20.828) -> (97.79, -20.828) projected
  arc A22 (97.79, 163.576) -> (97.79, 153.924) centre (97.79, 158.75) ccw projected
  line L2 (97.79, 163.576) -> (123.19, 163.576) projected
  arc A23 (123.19, 153.924) -> (123.19, 163.576) centre (123.19, 158.75) ccw projected
  line L3 (123.19, 153.924) -> (97.79, 153.924) projected
  circle A24 centre (-145.669, 153.0766) radius 2.413 projected
  circle A25 centre (-143.256, 13.1318) radius 2.413 projected
  circle A26 centre (-184.15, 13.1318) radius 2.413 projected
  circle A27 centre (-181.737, 153.0766) radius 2.413 projected
  arc A28 (190.5, -20.0801) -> (196.85, -13.7301) centre (190.5, -13.7301) ccw projected
  line L4 (196.85, -13.7301) -> (196.85, 165.1) projected
  line L5 (196.85, 165.1) -> (-196.85, 165.1) projected
  line L6 (-196.85, 165.1) -> (-196.85, -13.7301) projected
  arc A29 (-196.85, -13.7301) -> (-190.5, -20.0801) centre (-190.5, -13.7301) ccw projected
  line L7 (-190.5, -20.0801) -> (-167.7303, -20.0801) projected
  arc A30 (-163.2401, -21.9399) -> (-167.7303, -20.0801) centre (-167.7303, -26.4301) ccw projected
  line L8 (-163.2401, -21.9399) -> (-90.7599, -94.4202) projected
  arc A31 (-90.7599, -94.4202) -> (-86.2697, -96.2801) centre (-86.2697, -89.9301) ccw projected
  line L9 (-86.2697, -96.2801) -> (-69.85, -96.2801) projected
  arc A32 (-63.5, -102.6301) -> (-69.85, -96.2801) centre (-69.85, -102.6301) ccw projected
  line L10 (-63.5, -102.6301) -> (-63.5, -165.1) projected
  line L11 (-63.5, -165.1) -> (63.5, -165.1) projected
  line L12 (63.5, -165.1) -> (63.5, -102.6301) projected
  arc A33 (69.85, -96.2801) -> (63.5, -102.6301) centre (69.85, -102.6301) ccw projected
  line L13 (69.85, -96.2801) -> (86.2697, -96.2801) projected
  arc A34 (86.2697, -96.2801) -> (90.7599, -94.4202) centre (86.2697, -89.9301) ccw projected
  line L14 (90.7599, -94.4202) -> (163.2401, -21.9399) projected
  arc A35 (167.7303, -20.0801) -> (163.2401, -21.9399) centre (167.7303, -26.4301) ccw projected
  line L15 (167.7303, -20.0801) -> (190.5, -20.0801) projected
  circle A36 centre (177.8, 177.8) radius 2.0701 projected
  circle A37 centre (127, 177.8) radius 2.0701 projected
  circle A38 centre (76.2, 177.8) radius 2.0701 projected
  circle A39 centre (25.4, 177.8) radius 2.0701 projected
  circle A40 centre (-25.4, 177.8) radius 2.0701 projected
  circle A41 centre (-76.2, 177.8) radius 2.0701 projected
  circle A42 centre (-127, 177.8) radius 2.0701 projected
  circle A43 centre (-177.8, 177.8) radius 2.0701 projected
  circle A44 centre (-152.4, 177.8) radius 2.0701 projected
  circle A45 centre (-101.6, 177.8) radius 2.0701 projected
  circle A46 centre (-50.8, 177.8) radius 2.0701 projected
  circle A47 centre (0, 177.8) radius 2.0701 projected
  circle A48 centre (50.8, 177.8) radius 2.0701 projected
  circle A49 centre (101.6, 177.8) radius 2.0701 projected
  circle A50 centre (152.4, 177.8) radius 2.0701 projected
  line L16 (196.85, 165.1) -> (-196.85, 165.1) projected
  line L17 (196.85, 184.15) -> (196.85, 165.1) projected
  line L18 (-196.85, 184.15) -> (196.85, 184.15) projected
  line L19 (-196.85, 165.1) -> (-196.85, 184.15) projected
  circle A51 centre (25.4, -177.8) radius 2.0701 projected
  circle A52 centre (-25.4, -177.8) radius 2.0701 projected
  circle A53 centre (-50.8, -177.8) radius 2.0701 projected
  circle A54 centre (0, -177.8) radius 2.0701 projected
  circle A55 centre (50.8, -177.8) radius 2.0701 projected
  line L20 (-63.5, -165.1) -> (-63.5, -184.15) projected
  line L21 (63.5, -184.15) -> (-63.5, -184.15) projected
  line L22 (63.5, -184.15) -> (63.5, -165.1) projected
  line L23 (-63.5, -165.1) -> (63.5, -165.1) projected
  point P0 (0, 0)
properties part number "C15_TK_BatteryCrossStrut" material "Polycarbonate, Clear"
